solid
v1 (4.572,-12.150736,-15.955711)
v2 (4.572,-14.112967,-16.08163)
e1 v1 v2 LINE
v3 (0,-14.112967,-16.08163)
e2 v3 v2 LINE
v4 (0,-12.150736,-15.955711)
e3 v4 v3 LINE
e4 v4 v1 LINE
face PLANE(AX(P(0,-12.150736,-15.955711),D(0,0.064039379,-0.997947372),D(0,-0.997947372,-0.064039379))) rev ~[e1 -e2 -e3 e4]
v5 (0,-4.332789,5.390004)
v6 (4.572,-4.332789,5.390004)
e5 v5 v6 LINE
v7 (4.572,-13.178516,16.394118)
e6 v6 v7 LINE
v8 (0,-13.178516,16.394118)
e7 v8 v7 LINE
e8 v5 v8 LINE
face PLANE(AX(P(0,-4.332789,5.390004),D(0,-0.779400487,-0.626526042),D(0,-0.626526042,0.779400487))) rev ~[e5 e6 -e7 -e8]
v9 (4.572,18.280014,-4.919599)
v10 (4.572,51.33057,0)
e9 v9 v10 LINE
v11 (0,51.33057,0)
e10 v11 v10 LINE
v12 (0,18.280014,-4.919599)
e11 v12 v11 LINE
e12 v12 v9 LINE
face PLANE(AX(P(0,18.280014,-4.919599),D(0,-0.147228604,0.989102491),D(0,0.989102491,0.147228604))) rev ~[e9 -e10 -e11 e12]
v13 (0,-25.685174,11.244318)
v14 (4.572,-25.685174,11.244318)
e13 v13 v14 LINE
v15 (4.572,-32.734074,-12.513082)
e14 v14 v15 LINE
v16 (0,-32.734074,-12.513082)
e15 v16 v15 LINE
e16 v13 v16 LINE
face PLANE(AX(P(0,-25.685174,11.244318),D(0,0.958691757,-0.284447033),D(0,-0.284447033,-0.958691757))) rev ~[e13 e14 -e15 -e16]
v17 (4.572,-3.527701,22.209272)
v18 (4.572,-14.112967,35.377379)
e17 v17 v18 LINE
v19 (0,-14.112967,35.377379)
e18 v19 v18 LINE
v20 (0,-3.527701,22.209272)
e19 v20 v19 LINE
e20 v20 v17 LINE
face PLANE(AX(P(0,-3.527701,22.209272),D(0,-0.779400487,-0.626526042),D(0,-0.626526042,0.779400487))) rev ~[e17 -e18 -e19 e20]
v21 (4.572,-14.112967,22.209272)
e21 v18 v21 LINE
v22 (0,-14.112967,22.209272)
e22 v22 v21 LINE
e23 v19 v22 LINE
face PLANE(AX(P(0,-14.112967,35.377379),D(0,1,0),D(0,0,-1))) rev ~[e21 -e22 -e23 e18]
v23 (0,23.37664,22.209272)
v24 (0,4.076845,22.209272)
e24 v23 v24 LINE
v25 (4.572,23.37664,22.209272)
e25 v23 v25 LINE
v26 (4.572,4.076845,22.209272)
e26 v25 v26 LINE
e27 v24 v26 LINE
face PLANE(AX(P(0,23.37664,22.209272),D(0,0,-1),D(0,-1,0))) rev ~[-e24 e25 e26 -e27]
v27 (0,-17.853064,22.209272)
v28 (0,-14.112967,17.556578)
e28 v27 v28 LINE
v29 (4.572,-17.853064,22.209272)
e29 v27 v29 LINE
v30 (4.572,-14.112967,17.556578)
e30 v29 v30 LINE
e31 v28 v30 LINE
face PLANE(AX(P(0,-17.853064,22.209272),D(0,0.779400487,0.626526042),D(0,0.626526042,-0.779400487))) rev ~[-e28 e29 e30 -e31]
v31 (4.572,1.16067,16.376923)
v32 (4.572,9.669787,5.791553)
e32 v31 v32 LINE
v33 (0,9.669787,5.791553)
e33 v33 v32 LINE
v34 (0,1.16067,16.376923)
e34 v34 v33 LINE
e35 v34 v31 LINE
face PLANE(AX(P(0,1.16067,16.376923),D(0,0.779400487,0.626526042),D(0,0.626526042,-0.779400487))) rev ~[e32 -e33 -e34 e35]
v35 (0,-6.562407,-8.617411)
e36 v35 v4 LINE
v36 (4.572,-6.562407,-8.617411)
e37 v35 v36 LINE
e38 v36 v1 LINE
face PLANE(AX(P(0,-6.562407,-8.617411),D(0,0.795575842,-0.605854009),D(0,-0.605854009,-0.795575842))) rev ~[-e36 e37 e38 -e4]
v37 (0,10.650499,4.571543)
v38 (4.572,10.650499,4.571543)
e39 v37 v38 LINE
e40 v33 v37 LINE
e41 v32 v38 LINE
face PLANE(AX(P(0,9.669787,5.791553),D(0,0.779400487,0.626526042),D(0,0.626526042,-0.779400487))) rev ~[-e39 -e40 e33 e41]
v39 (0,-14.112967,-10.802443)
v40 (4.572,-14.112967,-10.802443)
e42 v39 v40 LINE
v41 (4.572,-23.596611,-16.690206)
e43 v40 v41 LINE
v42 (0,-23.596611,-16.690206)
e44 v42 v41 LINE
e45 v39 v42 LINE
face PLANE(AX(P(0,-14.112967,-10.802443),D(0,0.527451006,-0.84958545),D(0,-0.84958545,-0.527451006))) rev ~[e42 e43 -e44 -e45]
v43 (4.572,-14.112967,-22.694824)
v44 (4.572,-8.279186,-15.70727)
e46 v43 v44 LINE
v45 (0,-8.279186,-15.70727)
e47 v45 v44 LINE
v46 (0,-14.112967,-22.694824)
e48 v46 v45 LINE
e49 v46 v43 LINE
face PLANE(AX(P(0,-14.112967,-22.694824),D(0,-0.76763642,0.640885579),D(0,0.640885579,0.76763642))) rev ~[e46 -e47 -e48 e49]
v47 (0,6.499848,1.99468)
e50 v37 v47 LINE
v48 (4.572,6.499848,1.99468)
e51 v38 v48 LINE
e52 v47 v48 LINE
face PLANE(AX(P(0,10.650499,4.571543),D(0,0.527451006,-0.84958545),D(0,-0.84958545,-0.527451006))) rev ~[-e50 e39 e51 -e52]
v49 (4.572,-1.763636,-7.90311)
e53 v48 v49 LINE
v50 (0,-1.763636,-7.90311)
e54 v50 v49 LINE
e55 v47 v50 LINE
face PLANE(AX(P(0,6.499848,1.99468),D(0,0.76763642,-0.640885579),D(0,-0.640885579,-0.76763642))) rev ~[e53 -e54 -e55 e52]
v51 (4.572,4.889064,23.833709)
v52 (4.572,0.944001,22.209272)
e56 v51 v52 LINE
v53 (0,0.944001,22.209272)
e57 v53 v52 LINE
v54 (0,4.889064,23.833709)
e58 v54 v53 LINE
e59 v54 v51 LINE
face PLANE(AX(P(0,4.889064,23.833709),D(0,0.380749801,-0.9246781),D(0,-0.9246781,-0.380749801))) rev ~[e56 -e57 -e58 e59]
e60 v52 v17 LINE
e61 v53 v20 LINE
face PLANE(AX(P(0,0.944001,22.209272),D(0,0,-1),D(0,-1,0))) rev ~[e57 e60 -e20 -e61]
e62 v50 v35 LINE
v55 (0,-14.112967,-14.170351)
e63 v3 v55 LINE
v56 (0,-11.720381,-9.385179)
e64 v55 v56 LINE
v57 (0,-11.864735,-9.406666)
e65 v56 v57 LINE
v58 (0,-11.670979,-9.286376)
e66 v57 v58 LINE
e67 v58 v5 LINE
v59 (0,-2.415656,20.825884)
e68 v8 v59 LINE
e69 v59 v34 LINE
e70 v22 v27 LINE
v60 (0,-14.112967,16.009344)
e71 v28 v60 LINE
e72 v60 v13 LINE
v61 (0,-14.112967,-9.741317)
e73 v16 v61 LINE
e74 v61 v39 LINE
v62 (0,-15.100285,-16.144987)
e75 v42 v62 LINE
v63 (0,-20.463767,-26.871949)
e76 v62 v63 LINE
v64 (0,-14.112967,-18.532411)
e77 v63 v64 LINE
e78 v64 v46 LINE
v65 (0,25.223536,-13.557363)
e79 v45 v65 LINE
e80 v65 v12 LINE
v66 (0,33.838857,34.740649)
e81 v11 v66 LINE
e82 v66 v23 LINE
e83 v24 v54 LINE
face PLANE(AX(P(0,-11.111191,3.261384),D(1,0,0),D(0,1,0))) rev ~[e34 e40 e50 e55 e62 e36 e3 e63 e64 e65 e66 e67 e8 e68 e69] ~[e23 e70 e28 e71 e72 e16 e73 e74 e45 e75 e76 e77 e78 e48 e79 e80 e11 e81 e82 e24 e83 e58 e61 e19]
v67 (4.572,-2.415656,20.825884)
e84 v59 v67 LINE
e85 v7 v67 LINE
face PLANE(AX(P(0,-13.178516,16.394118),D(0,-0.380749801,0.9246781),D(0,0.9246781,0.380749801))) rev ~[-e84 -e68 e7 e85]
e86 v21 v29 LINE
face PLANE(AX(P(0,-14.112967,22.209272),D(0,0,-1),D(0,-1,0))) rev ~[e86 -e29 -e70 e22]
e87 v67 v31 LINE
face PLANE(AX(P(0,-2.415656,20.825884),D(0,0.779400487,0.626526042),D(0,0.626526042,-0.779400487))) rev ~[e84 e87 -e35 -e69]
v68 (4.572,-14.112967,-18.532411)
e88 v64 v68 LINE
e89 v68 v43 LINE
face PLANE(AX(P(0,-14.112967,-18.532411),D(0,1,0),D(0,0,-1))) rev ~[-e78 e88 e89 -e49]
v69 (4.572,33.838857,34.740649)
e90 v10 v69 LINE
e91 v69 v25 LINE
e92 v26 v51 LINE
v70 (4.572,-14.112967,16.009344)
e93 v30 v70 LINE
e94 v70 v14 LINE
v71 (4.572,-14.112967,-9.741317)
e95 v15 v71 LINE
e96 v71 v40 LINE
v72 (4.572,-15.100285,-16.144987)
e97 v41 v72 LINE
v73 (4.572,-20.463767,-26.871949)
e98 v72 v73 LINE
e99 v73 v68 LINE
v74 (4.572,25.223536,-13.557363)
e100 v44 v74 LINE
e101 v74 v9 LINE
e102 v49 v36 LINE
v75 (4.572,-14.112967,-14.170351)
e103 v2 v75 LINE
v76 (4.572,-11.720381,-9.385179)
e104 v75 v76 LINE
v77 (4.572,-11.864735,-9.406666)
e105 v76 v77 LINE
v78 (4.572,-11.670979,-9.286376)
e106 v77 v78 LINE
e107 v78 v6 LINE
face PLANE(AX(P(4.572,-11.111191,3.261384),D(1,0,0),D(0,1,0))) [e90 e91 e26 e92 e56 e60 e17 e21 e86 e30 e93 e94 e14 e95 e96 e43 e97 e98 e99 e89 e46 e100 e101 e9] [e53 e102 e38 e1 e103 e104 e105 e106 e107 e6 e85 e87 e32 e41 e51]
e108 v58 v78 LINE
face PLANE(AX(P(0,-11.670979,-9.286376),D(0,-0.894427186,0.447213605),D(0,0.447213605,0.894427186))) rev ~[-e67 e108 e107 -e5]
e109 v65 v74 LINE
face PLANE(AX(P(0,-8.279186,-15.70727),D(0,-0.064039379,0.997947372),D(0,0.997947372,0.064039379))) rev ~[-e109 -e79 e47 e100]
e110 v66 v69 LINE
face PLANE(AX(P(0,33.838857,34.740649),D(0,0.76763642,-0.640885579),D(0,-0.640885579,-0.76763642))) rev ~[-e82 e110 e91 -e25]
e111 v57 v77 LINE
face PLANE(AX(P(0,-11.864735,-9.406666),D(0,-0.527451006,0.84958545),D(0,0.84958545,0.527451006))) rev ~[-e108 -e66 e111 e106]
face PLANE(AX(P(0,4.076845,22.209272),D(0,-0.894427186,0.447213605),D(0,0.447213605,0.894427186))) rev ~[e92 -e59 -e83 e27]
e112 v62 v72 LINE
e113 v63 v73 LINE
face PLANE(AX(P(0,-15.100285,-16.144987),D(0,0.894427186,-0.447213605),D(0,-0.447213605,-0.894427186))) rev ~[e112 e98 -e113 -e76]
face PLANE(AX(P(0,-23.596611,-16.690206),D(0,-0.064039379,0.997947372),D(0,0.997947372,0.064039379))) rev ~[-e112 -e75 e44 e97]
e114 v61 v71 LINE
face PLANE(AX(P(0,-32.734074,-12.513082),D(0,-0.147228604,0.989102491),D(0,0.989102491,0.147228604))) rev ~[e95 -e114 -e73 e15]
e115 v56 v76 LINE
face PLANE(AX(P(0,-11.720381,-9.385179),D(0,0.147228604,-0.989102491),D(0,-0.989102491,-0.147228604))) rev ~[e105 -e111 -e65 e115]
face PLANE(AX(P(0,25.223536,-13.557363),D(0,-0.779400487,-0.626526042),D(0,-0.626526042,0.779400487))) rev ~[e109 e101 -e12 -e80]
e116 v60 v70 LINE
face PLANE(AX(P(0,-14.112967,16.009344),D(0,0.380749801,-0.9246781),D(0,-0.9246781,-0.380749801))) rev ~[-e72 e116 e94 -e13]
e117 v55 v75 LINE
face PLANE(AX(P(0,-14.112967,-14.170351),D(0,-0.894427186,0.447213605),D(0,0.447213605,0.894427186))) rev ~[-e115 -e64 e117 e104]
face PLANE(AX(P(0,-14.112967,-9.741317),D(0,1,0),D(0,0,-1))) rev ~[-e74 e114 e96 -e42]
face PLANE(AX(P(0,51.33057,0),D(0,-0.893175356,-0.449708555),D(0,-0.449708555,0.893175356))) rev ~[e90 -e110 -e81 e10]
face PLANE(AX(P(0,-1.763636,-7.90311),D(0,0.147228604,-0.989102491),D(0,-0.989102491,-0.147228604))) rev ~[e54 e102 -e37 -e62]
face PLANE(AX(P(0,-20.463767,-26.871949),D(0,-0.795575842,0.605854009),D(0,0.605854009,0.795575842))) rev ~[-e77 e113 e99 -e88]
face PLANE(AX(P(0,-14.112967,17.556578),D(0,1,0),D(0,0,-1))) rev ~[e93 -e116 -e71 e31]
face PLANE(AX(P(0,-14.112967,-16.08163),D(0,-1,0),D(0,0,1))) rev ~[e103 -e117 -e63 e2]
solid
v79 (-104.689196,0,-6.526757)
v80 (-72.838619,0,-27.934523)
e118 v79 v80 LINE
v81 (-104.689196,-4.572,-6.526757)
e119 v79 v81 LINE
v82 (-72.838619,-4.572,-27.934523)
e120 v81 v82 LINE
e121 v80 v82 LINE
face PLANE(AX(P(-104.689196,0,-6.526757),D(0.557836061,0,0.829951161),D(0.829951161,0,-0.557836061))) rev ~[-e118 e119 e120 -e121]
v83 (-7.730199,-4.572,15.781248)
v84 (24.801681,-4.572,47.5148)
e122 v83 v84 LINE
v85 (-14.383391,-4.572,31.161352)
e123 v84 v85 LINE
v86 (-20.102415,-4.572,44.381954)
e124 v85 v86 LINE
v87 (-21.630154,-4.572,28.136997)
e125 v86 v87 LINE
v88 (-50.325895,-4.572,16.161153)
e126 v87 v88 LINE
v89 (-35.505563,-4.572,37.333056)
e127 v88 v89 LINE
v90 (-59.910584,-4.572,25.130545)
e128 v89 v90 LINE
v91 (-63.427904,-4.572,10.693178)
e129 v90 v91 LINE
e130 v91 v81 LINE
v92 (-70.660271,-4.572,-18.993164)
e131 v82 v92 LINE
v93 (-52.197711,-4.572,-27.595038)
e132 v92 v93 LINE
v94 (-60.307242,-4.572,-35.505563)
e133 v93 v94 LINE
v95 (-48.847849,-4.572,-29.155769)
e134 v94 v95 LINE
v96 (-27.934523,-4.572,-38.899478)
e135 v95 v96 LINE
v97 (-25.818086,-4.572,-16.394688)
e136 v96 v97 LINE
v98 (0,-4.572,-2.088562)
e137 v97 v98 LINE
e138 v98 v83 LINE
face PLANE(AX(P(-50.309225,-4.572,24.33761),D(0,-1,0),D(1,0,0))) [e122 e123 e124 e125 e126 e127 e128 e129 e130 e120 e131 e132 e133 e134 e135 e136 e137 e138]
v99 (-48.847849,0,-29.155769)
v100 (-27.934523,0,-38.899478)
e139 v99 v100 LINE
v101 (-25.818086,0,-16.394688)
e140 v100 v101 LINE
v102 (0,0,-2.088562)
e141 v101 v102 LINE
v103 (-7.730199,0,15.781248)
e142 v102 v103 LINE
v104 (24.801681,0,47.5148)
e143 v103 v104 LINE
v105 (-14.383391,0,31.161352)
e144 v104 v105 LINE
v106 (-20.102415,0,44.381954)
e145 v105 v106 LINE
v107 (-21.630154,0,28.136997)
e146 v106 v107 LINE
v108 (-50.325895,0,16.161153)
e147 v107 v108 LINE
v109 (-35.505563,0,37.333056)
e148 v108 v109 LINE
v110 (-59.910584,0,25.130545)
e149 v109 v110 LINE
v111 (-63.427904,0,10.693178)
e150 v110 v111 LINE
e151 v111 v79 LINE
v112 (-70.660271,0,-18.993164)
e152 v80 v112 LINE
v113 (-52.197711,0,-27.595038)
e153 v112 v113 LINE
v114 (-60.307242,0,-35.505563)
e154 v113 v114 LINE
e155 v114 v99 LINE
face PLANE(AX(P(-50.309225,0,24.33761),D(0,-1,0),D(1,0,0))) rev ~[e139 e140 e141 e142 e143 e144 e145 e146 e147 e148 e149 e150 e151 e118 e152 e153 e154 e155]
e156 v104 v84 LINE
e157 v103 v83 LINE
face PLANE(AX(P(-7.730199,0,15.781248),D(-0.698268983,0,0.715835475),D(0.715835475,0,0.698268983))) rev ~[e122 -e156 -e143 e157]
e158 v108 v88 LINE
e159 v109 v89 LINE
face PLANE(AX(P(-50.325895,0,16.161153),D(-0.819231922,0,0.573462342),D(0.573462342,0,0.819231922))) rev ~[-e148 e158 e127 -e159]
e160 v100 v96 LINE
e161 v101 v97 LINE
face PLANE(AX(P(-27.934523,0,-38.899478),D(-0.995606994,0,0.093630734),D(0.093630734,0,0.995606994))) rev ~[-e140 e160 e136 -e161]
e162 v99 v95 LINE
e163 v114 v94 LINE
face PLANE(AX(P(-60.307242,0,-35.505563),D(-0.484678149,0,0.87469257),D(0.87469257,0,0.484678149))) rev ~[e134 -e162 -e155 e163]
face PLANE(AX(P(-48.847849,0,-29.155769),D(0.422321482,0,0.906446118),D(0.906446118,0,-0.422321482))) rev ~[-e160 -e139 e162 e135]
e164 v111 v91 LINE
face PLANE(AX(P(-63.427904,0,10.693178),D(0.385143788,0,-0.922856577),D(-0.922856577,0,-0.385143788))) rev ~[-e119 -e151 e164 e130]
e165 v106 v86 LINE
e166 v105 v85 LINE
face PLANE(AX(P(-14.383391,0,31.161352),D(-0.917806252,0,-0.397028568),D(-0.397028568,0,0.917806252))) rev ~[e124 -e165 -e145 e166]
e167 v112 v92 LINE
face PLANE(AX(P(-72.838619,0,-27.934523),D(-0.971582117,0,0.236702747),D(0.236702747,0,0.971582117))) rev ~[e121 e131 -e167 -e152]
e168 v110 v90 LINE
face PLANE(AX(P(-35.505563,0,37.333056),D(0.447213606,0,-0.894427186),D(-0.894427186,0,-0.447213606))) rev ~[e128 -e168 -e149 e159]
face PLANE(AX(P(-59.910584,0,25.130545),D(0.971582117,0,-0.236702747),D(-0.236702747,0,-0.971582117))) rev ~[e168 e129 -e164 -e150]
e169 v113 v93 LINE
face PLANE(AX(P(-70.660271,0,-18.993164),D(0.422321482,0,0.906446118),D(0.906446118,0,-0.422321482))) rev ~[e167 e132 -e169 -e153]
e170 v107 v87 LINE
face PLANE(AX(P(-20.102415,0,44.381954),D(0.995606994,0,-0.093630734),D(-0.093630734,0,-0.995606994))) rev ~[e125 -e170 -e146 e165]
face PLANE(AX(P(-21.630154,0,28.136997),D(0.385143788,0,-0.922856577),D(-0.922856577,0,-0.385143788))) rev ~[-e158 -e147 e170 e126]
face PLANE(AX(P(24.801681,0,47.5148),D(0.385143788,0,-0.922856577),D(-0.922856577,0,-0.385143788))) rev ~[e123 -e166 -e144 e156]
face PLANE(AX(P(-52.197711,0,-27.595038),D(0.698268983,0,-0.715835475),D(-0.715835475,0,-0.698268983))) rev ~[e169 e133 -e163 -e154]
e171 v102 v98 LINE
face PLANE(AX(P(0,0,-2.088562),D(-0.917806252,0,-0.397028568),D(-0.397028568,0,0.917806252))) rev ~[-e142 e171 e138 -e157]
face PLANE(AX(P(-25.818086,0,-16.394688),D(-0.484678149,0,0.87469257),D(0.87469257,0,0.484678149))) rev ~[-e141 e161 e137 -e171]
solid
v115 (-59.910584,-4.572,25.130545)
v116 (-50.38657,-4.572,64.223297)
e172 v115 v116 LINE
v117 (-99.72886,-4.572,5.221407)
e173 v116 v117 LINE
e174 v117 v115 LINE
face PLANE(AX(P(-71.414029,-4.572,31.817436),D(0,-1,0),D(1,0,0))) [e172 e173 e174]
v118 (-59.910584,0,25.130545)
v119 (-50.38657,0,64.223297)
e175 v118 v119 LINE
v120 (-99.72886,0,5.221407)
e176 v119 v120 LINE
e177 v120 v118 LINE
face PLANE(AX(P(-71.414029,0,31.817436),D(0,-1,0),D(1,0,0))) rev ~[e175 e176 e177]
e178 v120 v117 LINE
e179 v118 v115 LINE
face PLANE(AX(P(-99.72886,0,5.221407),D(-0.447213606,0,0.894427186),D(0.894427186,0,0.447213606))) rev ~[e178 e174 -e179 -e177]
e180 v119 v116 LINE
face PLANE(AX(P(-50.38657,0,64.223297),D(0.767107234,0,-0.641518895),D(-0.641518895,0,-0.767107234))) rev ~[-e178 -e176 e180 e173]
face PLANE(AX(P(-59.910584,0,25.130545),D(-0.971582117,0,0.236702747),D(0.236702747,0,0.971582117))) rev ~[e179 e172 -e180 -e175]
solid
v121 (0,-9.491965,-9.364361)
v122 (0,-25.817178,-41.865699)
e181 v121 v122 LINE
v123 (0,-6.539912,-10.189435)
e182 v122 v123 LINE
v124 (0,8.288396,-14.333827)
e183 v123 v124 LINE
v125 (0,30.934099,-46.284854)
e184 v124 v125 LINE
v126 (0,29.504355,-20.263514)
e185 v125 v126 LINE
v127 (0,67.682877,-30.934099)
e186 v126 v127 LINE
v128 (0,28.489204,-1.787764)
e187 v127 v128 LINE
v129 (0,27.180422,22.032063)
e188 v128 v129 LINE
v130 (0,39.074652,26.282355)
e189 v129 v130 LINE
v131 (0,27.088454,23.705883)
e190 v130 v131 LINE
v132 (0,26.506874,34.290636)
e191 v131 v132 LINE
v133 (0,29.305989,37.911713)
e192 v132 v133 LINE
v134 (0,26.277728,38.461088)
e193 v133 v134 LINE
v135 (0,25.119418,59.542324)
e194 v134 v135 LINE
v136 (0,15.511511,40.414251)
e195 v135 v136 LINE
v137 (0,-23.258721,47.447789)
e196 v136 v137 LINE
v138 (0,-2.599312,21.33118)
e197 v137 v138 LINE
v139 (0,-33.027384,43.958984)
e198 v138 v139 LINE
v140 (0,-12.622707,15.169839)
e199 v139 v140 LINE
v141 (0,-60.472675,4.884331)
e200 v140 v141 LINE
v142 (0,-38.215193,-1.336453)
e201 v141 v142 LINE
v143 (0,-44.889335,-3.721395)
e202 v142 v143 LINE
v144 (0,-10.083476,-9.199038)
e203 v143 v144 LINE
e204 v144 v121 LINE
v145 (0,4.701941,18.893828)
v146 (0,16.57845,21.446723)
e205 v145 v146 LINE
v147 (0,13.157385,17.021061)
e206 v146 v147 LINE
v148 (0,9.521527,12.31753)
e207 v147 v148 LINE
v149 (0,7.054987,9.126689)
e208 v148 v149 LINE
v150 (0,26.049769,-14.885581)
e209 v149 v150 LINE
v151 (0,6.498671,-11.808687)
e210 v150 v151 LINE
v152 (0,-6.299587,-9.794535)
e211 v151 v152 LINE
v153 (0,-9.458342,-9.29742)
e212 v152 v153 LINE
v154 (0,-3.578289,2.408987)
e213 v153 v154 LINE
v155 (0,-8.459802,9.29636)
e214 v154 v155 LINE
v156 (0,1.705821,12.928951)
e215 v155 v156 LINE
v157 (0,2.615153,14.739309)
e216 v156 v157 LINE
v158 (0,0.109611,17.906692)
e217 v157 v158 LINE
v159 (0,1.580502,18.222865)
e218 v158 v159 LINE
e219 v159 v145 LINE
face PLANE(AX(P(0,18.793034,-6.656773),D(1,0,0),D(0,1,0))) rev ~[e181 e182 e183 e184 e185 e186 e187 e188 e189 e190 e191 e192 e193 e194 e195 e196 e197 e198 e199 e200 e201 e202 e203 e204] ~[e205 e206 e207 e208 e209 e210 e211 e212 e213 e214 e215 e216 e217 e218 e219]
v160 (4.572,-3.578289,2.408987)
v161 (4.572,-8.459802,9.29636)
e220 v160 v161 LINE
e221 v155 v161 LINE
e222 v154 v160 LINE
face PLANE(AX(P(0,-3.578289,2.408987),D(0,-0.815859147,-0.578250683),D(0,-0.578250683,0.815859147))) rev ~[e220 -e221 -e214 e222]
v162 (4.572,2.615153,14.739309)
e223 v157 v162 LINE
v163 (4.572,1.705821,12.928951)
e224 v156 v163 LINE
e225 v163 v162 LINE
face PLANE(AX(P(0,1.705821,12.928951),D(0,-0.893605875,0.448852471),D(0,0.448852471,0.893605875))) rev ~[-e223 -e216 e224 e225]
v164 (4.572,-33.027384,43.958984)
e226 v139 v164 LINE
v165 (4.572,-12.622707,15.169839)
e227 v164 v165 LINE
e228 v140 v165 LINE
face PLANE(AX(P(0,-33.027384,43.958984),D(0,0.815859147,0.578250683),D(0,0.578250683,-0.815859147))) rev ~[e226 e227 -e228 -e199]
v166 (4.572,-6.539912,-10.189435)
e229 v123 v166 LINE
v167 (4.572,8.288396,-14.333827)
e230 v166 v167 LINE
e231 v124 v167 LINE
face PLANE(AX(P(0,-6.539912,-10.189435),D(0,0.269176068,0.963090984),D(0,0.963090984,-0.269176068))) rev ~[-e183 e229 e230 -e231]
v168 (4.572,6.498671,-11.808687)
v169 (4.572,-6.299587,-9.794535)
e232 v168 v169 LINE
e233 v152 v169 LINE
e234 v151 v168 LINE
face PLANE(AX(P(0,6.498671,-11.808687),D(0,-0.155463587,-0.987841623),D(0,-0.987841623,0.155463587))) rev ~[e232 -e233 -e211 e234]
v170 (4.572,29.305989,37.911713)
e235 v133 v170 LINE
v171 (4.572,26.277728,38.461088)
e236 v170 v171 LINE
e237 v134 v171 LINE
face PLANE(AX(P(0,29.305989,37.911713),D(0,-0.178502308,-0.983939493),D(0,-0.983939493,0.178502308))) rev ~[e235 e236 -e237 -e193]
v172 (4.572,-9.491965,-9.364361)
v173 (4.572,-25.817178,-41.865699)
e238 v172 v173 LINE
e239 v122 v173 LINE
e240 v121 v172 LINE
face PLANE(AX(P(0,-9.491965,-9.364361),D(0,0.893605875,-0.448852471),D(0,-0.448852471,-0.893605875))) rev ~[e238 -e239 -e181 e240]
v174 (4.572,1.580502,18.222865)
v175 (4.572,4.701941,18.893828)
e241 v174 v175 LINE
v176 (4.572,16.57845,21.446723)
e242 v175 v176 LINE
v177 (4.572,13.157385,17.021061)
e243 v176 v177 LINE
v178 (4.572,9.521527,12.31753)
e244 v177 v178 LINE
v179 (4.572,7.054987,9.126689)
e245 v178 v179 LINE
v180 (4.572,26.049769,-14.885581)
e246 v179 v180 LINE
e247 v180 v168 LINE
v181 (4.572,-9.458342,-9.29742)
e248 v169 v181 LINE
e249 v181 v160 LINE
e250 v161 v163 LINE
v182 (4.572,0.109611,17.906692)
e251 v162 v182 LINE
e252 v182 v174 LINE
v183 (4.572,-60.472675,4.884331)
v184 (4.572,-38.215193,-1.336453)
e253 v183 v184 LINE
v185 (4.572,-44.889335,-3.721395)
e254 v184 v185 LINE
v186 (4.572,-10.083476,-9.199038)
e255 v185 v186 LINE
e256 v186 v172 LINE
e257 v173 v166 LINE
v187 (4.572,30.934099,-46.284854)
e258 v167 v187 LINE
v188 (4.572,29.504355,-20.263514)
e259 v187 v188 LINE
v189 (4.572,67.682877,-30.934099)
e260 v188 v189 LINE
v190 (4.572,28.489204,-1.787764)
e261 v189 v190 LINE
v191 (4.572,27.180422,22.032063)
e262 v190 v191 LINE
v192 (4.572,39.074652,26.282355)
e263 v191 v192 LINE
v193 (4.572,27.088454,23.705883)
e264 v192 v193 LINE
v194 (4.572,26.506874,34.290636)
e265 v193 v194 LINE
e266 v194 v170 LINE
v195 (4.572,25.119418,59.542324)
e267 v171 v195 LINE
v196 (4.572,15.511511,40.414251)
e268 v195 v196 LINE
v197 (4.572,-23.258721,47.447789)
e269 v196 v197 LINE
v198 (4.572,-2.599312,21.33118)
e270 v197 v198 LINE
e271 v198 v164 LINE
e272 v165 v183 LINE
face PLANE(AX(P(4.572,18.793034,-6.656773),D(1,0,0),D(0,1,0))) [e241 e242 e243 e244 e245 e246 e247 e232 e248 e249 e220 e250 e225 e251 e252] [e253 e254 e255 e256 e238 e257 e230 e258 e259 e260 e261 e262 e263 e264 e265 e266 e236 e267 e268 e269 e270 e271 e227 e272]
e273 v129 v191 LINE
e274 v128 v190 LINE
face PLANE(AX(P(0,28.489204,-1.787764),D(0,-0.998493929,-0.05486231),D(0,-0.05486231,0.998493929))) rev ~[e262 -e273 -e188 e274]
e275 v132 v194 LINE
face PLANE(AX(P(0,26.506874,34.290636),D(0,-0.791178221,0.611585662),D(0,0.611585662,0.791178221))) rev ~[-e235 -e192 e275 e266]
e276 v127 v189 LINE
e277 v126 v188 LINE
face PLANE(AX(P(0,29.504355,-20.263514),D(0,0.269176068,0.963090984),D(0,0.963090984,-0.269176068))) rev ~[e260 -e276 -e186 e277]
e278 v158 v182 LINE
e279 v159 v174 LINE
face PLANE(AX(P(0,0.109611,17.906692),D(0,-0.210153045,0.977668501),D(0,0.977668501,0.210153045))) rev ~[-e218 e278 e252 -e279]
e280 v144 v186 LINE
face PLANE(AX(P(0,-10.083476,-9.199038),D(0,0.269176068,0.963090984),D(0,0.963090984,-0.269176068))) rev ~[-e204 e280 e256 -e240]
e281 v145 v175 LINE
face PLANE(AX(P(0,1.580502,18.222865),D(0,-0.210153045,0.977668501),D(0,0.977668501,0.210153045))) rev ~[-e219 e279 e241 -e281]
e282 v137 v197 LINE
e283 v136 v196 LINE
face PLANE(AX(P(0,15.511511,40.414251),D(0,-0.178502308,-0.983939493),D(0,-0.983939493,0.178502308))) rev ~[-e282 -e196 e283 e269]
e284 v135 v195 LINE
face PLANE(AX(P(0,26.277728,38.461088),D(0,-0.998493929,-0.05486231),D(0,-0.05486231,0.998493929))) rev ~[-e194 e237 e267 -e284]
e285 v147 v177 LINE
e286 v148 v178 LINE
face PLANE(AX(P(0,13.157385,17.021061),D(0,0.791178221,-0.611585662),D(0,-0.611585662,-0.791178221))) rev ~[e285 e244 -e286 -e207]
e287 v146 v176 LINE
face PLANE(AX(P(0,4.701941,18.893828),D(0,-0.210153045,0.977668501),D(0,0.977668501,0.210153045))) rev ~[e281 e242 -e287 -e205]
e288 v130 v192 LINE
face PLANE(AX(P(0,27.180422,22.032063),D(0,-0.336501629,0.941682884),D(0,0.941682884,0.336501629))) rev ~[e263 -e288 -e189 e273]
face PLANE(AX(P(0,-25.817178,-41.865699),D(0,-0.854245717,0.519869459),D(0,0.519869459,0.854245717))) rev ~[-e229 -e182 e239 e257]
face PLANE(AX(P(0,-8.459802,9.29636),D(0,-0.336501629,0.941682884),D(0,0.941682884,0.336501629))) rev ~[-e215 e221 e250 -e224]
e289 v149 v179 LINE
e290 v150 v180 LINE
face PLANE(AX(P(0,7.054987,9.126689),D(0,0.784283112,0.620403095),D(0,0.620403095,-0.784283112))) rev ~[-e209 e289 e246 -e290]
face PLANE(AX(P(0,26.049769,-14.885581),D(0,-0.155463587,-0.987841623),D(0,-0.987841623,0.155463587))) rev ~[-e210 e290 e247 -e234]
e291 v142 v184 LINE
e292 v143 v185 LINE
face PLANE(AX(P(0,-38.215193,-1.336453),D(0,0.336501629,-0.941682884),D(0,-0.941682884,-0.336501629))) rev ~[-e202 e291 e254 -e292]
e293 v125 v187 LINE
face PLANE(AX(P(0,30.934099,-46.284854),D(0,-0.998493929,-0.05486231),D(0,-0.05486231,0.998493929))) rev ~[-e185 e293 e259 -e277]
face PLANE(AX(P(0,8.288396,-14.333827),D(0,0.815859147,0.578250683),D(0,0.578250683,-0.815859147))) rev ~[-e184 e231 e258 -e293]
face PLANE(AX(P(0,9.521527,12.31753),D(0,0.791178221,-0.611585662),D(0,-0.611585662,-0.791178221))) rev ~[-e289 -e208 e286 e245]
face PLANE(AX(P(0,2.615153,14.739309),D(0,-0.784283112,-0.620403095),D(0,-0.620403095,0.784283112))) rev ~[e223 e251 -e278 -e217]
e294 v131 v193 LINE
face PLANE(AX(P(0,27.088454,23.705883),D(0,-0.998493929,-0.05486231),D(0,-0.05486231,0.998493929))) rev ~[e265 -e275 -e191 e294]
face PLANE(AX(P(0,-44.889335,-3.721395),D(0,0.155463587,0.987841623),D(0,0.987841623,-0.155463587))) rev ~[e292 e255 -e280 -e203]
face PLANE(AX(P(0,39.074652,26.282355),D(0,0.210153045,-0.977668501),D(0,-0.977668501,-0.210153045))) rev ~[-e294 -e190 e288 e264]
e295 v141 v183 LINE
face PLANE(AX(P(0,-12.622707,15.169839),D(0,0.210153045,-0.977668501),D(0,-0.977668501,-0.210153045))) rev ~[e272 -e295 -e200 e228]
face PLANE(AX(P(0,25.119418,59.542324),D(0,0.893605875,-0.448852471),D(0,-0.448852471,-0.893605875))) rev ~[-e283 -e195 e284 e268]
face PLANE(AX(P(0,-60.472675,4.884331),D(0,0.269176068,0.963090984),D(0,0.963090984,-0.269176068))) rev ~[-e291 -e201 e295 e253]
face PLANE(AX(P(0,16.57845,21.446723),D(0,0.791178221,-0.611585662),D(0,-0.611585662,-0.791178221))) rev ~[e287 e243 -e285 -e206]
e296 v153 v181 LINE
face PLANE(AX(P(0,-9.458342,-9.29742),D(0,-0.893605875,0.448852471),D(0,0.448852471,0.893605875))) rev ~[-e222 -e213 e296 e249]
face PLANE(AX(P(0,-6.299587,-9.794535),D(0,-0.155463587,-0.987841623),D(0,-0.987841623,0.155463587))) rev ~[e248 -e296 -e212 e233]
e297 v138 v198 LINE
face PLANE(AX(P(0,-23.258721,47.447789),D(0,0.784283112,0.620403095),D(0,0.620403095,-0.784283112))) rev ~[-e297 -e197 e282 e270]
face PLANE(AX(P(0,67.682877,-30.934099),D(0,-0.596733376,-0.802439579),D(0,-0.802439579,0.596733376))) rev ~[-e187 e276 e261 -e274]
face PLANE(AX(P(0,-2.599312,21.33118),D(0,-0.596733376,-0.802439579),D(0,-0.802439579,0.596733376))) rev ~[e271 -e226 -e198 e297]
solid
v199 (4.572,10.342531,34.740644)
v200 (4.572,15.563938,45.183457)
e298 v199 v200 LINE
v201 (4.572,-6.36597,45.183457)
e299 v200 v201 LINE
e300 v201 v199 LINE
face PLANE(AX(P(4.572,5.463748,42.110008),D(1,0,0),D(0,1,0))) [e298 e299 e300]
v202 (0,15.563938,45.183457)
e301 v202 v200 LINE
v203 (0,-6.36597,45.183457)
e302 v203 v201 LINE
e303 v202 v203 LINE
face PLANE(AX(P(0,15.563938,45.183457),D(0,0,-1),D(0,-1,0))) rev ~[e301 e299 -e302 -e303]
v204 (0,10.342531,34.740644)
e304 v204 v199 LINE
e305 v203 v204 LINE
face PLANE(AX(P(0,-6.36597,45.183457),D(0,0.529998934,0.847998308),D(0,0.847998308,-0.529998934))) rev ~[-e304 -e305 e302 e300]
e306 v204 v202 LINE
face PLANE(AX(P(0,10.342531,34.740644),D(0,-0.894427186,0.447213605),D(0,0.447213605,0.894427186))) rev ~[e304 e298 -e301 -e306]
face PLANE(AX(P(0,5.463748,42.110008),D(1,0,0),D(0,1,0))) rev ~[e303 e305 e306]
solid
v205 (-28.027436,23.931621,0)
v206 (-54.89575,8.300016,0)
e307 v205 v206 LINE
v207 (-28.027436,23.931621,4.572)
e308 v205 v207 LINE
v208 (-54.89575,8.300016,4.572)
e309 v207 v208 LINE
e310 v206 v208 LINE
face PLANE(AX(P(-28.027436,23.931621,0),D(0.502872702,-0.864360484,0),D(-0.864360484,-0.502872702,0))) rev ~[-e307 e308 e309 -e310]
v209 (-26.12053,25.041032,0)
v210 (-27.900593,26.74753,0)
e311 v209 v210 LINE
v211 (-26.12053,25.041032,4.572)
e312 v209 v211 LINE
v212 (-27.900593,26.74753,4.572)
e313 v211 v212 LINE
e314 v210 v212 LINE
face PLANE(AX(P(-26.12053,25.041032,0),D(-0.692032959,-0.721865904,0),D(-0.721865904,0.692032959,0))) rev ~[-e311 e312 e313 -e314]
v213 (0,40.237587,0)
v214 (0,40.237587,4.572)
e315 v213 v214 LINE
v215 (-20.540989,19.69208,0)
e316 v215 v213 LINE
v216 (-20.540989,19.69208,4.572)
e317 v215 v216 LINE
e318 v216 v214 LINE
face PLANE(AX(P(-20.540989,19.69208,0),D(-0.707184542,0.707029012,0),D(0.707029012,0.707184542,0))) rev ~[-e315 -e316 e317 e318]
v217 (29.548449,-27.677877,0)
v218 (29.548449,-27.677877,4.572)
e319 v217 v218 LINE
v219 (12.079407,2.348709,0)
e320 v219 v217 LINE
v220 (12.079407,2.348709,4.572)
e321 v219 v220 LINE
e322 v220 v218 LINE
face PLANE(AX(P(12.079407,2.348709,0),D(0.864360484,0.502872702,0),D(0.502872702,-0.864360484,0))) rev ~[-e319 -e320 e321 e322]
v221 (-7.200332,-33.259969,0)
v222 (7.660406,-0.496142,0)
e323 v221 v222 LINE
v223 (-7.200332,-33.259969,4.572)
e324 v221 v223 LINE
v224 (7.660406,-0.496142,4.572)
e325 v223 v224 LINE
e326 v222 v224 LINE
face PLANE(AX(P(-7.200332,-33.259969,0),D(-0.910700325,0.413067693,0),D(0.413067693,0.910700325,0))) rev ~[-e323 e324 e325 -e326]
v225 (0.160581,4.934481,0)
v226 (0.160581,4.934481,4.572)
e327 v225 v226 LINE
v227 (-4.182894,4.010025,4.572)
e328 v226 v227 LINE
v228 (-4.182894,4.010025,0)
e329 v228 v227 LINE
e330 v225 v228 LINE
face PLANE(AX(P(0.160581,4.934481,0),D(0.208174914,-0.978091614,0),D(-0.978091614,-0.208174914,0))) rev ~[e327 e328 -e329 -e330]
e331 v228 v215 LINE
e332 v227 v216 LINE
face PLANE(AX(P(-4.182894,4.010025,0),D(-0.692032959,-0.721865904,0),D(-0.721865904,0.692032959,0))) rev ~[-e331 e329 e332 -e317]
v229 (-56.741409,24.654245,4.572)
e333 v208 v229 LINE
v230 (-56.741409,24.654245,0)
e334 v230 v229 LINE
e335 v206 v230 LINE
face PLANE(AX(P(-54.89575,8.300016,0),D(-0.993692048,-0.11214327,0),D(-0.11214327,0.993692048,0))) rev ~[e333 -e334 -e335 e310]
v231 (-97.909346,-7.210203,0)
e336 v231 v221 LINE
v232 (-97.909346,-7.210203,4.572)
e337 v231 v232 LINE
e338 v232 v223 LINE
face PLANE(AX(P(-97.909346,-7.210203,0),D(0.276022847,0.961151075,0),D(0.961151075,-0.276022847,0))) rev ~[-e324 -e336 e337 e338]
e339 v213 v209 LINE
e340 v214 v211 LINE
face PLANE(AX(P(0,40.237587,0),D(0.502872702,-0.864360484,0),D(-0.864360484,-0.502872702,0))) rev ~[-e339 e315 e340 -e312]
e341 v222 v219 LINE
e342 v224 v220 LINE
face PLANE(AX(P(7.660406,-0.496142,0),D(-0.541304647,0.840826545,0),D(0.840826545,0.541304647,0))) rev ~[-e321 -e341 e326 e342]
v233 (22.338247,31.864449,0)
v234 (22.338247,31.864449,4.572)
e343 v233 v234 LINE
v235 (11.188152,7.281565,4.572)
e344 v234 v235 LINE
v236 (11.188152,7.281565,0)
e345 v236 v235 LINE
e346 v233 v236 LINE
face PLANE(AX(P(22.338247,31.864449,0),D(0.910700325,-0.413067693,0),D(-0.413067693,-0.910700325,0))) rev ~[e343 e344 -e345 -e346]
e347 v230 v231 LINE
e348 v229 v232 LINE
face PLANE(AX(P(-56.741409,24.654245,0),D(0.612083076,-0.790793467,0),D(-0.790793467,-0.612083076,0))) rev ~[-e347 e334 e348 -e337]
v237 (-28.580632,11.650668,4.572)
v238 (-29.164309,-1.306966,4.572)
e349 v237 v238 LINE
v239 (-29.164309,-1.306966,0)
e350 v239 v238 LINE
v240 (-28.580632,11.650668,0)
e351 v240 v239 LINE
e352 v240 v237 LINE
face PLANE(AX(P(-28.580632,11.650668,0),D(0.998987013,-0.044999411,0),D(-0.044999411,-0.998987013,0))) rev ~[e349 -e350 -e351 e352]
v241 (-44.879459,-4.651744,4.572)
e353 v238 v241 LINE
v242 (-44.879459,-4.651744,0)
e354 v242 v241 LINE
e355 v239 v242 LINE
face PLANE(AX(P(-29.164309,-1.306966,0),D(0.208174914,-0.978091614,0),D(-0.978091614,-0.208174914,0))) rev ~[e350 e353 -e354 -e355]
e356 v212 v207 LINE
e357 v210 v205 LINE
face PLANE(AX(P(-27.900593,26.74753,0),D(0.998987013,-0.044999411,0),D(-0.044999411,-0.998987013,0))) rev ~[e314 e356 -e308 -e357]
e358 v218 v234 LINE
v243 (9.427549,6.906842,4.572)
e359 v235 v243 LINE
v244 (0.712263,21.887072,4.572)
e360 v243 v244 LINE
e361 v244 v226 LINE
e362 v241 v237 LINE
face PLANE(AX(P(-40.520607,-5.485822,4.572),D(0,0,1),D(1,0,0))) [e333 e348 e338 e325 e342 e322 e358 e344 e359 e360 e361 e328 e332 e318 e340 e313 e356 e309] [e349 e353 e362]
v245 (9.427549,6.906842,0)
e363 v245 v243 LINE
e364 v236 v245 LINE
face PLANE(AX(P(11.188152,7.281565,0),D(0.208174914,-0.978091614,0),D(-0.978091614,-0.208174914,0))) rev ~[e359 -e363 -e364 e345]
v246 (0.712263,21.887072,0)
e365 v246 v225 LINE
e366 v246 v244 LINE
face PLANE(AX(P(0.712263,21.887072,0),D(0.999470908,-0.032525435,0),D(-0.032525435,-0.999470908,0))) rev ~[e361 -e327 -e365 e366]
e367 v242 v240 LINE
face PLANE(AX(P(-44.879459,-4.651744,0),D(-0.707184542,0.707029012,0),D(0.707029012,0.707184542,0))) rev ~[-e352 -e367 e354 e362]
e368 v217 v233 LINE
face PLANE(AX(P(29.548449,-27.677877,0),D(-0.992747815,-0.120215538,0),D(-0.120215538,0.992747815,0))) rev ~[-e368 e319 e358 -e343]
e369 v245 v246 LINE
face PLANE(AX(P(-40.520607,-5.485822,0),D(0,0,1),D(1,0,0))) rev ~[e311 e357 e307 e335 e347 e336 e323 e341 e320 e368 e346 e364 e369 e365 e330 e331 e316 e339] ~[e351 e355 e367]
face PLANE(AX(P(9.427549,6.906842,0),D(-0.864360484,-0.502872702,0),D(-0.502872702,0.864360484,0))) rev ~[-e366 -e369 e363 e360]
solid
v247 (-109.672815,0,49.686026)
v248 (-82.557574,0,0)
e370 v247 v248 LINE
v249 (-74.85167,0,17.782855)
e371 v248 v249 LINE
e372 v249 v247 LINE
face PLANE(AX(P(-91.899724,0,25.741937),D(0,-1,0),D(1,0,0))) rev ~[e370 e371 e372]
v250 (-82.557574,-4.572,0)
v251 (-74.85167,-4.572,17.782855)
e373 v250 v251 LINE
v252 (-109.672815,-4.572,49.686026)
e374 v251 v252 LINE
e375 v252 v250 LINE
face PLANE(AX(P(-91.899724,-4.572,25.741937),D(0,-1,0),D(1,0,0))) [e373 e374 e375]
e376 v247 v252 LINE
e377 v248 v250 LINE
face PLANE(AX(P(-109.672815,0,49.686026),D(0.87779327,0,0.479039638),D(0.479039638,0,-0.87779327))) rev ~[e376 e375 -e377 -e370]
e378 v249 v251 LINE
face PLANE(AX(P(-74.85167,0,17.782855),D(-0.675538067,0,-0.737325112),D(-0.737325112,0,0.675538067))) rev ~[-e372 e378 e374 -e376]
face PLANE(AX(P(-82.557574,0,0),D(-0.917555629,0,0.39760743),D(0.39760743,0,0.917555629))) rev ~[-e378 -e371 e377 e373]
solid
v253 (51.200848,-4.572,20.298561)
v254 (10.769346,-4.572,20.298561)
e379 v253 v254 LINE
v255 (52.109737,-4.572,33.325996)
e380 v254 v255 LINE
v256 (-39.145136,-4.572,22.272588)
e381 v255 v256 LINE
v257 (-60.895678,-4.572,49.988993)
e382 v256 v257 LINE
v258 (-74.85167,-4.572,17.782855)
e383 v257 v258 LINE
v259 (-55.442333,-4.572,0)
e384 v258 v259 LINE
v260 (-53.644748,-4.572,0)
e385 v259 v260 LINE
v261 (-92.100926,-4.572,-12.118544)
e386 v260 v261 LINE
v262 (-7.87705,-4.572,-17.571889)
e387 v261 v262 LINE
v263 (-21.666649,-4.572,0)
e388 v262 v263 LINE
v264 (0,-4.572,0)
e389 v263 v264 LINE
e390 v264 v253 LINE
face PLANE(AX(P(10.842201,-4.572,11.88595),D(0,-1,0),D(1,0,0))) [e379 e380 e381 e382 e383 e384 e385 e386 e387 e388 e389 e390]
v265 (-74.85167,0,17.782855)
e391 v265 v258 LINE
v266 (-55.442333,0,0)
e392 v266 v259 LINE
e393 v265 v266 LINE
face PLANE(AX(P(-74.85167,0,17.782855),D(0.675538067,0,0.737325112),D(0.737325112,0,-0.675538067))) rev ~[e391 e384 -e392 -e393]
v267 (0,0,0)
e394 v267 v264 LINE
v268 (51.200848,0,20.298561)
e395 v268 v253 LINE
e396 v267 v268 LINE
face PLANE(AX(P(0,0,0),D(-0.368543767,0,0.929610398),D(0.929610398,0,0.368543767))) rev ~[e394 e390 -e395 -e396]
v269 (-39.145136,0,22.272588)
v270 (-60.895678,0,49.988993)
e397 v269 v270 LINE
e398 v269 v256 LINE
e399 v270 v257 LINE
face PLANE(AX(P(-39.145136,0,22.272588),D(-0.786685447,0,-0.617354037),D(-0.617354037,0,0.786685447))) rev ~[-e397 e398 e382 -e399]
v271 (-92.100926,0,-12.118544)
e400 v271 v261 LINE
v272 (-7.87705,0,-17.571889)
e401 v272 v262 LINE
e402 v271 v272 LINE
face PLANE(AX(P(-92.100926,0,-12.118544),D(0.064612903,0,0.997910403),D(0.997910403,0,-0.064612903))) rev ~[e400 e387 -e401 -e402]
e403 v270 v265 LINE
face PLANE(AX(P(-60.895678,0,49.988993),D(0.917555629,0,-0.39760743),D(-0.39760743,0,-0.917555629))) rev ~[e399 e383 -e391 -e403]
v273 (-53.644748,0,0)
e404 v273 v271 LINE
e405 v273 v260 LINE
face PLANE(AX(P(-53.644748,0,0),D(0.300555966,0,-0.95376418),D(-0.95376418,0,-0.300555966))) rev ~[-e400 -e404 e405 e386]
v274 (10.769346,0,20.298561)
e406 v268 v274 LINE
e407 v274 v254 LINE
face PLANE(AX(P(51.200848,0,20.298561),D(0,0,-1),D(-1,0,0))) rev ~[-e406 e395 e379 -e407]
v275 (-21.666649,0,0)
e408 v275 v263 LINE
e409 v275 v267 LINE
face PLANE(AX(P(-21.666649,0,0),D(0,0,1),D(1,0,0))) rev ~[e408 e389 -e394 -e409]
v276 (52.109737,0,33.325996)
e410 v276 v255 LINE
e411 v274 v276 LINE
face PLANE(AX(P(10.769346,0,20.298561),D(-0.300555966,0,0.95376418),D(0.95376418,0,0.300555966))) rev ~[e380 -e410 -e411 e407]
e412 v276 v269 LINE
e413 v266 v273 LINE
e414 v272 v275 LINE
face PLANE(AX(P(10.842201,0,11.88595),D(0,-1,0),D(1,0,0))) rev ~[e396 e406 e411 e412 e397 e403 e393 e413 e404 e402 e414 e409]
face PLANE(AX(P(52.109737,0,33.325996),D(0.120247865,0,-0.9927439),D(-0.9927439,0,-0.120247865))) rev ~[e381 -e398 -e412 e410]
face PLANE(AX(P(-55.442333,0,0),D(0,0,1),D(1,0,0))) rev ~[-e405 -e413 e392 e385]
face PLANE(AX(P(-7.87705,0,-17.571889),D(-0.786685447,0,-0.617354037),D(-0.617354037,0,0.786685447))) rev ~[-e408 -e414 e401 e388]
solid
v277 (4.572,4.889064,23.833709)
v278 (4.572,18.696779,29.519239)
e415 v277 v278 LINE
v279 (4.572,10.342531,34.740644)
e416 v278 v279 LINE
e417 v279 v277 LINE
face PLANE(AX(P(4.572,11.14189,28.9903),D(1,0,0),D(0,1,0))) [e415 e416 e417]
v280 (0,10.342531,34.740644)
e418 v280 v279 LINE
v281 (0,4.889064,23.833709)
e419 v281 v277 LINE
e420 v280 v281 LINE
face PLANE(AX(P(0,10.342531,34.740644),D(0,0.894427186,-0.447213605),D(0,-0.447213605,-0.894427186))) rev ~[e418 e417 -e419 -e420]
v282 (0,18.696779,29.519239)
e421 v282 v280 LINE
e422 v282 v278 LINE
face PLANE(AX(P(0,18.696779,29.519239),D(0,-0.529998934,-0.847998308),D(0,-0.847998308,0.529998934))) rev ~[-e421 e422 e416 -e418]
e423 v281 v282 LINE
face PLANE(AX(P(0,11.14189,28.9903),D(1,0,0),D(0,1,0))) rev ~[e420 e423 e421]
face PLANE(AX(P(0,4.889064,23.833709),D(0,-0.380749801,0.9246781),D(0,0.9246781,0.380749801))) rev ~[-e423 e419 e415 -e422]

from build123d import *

# Parameters (mm, degrees)
F3_DEPTH = 4.572
F4_DEPTH = 4.572
F5_DEPTH = 4.572
F7_DEPTH = 4.572
F9_DEPTH = 4.572


with BuildPart() as f3:
    # F0 (on Front) → F3 (new body)
    with BuildSketch(Plane.XZ):
        Polygon((-82.5575739145, 0), (-74.8516700621, 17.7828554518), (-109.6728146076, 49.6860258281), align=None)
    extrude(amount=F3_DEPTH)


with BuildPart() as f3b:
    # F0 (on Front) → F3, piece 2 (new body)
    with BuildSketch(Plane.XZ):
        Polygon((-21.6666485413, 0), (0, 0), (51.2008480728, 20.2985610813), (10.7693464256, 20.2985610813), (-28.0068135198, 8.0791818403), align=None)
        Polygon((-7.8770499676, -17.571888864), (-21.6666485413, 0), (-53.6447482374, 0), (-92.1009257436, -12.1185444295), align=None)
        Polygon((-53.6447482374, 0), (-21.6666485413, 0), (-28.0068135198, 8.0791818403), align=None)
        Polygon((-55.4423332214, 0), (-53.6447482374, 0), (-28.0068135198, 8.0791818403), (-37.5960122597, 20.2985610813), (-55.4423332214, 20.2985610813), (-39.1451364363, 22.2725879337), (-60.8956776559, 49.9889925122), (-74.8516700621, 17.7828554518), align=None)
        Polygon((-37.5960122597, 20.2985610813), (-28.0068135198, 8.0791818403), (10.7693464256, 20.2985610813), align=None)
        Polygon((-37.5960122597, 20.2985610813), (10.7693464256, 20.2985610813), (52.1097369492, 33.3259962499), (-39.1451364363, 22.2725879337), align=None)
        Polygon((-55.4423332214, 20.2985610813), (-37.5960122597, 20.2985610813), (-39.1451364363, 22.2725879337), align=None)
    extrude(amount=F3_DEPTH)


with BuildPart() as f4:
    # F1 (on Top) → F4 (new body)
    with BuildSketch(Plane.XY):
        Polygon((-30.2264653146, -24.8868316412), (-29.1643092862, -1.3069657687), (-44.8794588447, -4.6517443843), (-28.5806321541, 11.6506676864), (-28.0274361012, 23.9316211227), (-54.8957499852, 8.300016208), (-56.7414090037, 24.6542450041), (-97.9093462229, -7.2102034464), (-7.2003318928, -33.2599692047), (7.6604056604, -0.4961419795), align=None)
        Polygon((-83.9541107416, -8.6057269946), (-54.8957499852, 8.300016208), (-52.8296263813, -10.0077306732), align=None, mode=Mode.SUBTRACT)
        Polygon((0.1605810986, 4.9344807985), (0, 0), (-4.1828936972, 4.0100249694), (-29.1643092862, -1.3069657687), (-30.2264653146, -24.8868316412), (7.6604056604, -0.4961419795), (10.3213577254, 5.370523346), (9.427549079, 6.9068423225), align=None)
        Polygon((22.3382469267, 31.8644493818), (11.1881518136, 7.28156522), (23.9663552493, 10.0012505427), (12.0794068127, 2.3487085702), (29.5484494418, -27.6778768748), align=None)
        Polygon((-29.1643092862, -1.3069657687), (-4.1828936972, 4.0100249694), (-20.5409885059, 19.6920798778), (-28.5806321541, 11.6506676864), align=None)
        Polygon((-52.8296263813, -10.0077306732), (-54.8957499852, 8.300016208), (-83.9541107416, -8.6057269946), align=None)
        Polygon((-26.1205296729, 25.0410323059), (-20.5409885059, 19.6920798778), (0, 40.2375869453), align=None)
        Polygon((0.7122633979, 21.887071963), (0.1605810986, 4.9344807985), (9.427549079, 6.9068423225), align=None)
        Polygon((-28.5806321541, 11.6506676864), (-20.5409885059, 19.6920798778), (-26.1205296729, 25.0410323059), (-28.0274361012, 23.9316211227), align=None)
        Polygon((23.9663552493, 10.0012505427), (11.1881518136, 7.28156522), (10.3213577254, 5.370523346), (12.0794068127, 2.3487085702), align=None)
        Polygon((-4.1828936972, 4.0100249694), (0, 0), (0.1605810986, 4.9344807985), align=None)
        Polygon((12.0794068127, 2.3487085702), (10.3213577254, 5.370523346), (7.6604056604, -0.4961419795), align=None)
        Polygon((-28.0274361012, 23.9316211227), (-26.1205296729, 25.0410323059), (-27.9005933553, 26.7475303262), align=None)
        Polygon((11.1881518136, 7.28156522), (9.427549079, 6.9068423225), (10.3213577254, 5.370523346), align=None)
    extrude(amount=F4_DEPTH)


with BuildPart() as f5:
    # F2 (on Right) → F5 (new body)
    with BuildSketch(Plane.YZ):
        Polygon((-11.6709794468, -9.2863757221), (-4.3327892504, 5.3900042912), (-13.1785160436, 16.3941179508), (-14.112967217, 16.0093439428), (-14.112967217, -9.7413167059), (-11.8647352483, -9.4066657912), align=None)
        Polygon((-14.112967217, 16.0093439428), (-13.1785160436, 16.3941179508), (-14.112967217, 17.55657833), align=None)
        Polygon((-14.112967217, 17.55657833), (-13.1785160436, 16.3941179508), (-2.4156556784, 20.8258839304), (-3.5277008119, 22.2092717886), (-14.112967217, 22.2092717886), align=None)
        Polygon((4.0768447157, 22.2092717886), (1.1606701048, 16.3769227176), (9.6697870104, 5.7915528817), (23.3766396491, 22.2092717886), align=None)
        Polygon((-2.4156556784, 20.8258839304), (1.1606701048, 16.3769227176), (4.0768447157, 22.2092717886), (0.944000589, 22.2092717886), align=None)
        Polygon((10.6504993847, 4.5715434143), (6.4998476512, 1.9946802718), (-1.7636361041, -7.903110057), (18.2800142598, -4.9195985592), align=None)
        Polygon((-1.7636361041, -7.903110057), (-6.5624073064, -8.6174105361), (-12.1507356053, -15.9557113932), (-8.2791860566, -15.7072698058), align=None)
        Polygon((-17.8530644625, 22.2092717886), (-14.112967217, 17.55657833), (-14.112967217, 22.2092717886), align=None)
        Polygon((-14.112967217, -9.7413167059), (-14.112967217, 16.0093439428), (-25.6851743907, 11.2443175167), (-32.7340736985, -12.5130815431), align=None)
        Polygon((-3.5277008119, 22.2092717886), (-2.4156556784, 20.8258839304), (0.944000589, 22.2092717886), align=None)
        Polygon((23.3766396491, 22.2092717886), (9.6697870104, 5.7915528817), (10.6504993847, 4.5715434143), (39.0602611005, 22.2092717886), align=None)
        Polygon((0.944000589, 22.2092717886), (4.0768447157, 22.2092717886), (4.8890635775, 23.8337094703), align=None)
        Polygon((-11.720380856, -9.385178538), (-11.8647352483, -9.4066657912), (-14.112967217, -10.802443242), (-14.112967217, -14.1703511364), align=None)
        Polygon((-14.112967217, -10.802443242), (-11.8647352483, -9.4066657912), (-14.112967217, -9.7413167059), align=None)
        Polygon((39.0602611005, 22.2092717886), (10.6504993847, 4.5715434143), (18.2800142598, -4.9195985592), (51.3305701315, 0), (33.8388569653, 34.7406491637), (23.3766396491, 22.2092717886), align=None)
        Polygon((18.2800142598, -4.9195985592), (-1.7636361041, -7.903110057), (-8.2791860566, -15.7072698058), (25.2235364169, -13.5573633015), align=None)
        Polygon((-14.112967217, -18.5324114632), (-12.1507356053, -15.9557113932), (-14.112967217, -16.0816299513), align=None)
        Polygon((-8.2791860566, -15.7072698058), (-12.1507356053, -15.9557113932), (-14.112967217, -18.5324114632), (-14.112967217, -22.6948242635), align=None)
        Polygon((-14.112967217, 35.3773785324), (-14.112967217, 22.2092717886), (-3.5277008119, 22.2092717886), align=None)
        Polygon((-14.112967217, -14.1703511364), (-14.112967217, -10.802443242), (-23.5966108739, -16.6902057827), (-15.1002852928, -16.1449872368), align=None)
        Polygon((-14.112967217, -16.0816299513), (-14.112967217, -14.1703511364), (-15.1002852928, -16.1449872368), align=None)
        Polygon((-14.112967217, -18.5324114632), (-14.112967217, -16.0816299513), (-15.1002852928, -16.1449872368), (-20.4637665302, -26.8719494343), align=None)
    extrude(amount=F5_DEPTH)


with BuildPart() as f5b:
    # F2 (on Right) → F5, piece 2 (new body)
    with BuildSketch(Plane.YZ):
        Polygon((-6.3659697771, 45.1834574342), (10.3425312173, 34.7406444679), (15.5639378354, 45.1834574342), align=None)
    extrude(amount=F5_DEPTH)


with BuildPart() as f5c:
    # F2 (on Right) → F5, piece 3 (new body)
    with BuildSketch(Plane.YZ):
        Polygon((10.3425312173, 34.7406444679), (4.8890635775, 23.8337094703), (18.6967793852, 29.5192394406), align=None)
    extrude(amount=F5_DEPTH)


with BuildPart() as f7:
    # F6 (on Front) → F7 (new body)
    with BuildSketch(Plane.XZ):
        Polygon((-99.728859961, 5.2214069292), (-59.9105844404, 25.1305452669), (-50.386570394, 64.2232969403), align=None)
    extrude(amount=F7_DEPTH)


with BuildPart() as f7b:
    # F6 (on Front) → F7, piece 2 (new body)
    with BuildSketch(Plane.XZ):
        Polygon((-50.3258952086, 16.1611531024), (-35.5055630207, 37.3330563307), (-59.9105844404, 25.1305452669), (-63.4279038249, 10.6931775161), align=None)
        Polygon((-21.6301538046, 28.1369972667), (-50.3258952086, 16.1611531024), (-68.3788705082, -9.6288117365), (-70.6602708853, -18.9931635715), (-52.1977105079, -27.5950381993), (-24.3134150211, -0.3950190076), align=None)
        Polygon((-68.3788705082, -9.6288117365), (-50.3258952086, 16.1611531024), (-63.4279038249, 10.6931775161), align=None)
        Polygon((-70.6602708853, -18.9931635715), (-68.3788705082, -9.6288117365), (-73.8829001784, -17.4917113036), align=None)
        Polygon((-73.8829001784, -17.4917113036), (-68.3788705082, -9.6288117365), (-63.4279038249, 10.6931775161), (-104.6891957521, -6.5267574973), (-72.8386193514, -27.9345232993), (-70.6602708853, -18.9931635715), align=None)
        Polygon((-14.3833906449, 31.1613521727), (-21.6301538046, 28.1369972667), (-24.3134150211, -0.3950190076), (-7.7301989516, 15.7812475065), align=None)
        Polygon((-20.1024152339, 44.3819537759), (-21.6301538046, 28.1369972667), (-14.3833906449, 31.1613521727), align=None)
        Polygon((-7.7301989516, 15.7812475065), (-24.3134150211, -0.3950190076), (-25.818085807, -16.3946880244), (0, -2.0885621198), align=None)
        Polygon((-25.818085807, -16.3946880244), (-24.3134150211, -0.3950190076), (-52.1977105079, -27.5950381993), (-48.8478487995, -29.1557692055), align=None)
        Polygon((24.8016808182, 47.5147999823), (-14.3833906449, 31.1613521727), (-7.7301989516, 15.7812475065), align=None)
        Polygon((-48.8478487995, -29.1557692055), (-52.1977105079, -27.5950381993), (-60.3072419763, -35.5055630207), align=None)
        Polygon((-27.9345232993, -38.8994775712), (-25.818085807, -16.3946880244), (-48.8478487995, -29.1557692055), align=None)
    extrude(amount=F7_DEPTH)


with BuildPart() as f9:
    # F8 (on Right) → F9 (new body)
    with BuildSketch(Plane.YZ):
        Polygon((9.5215268071, 12.3175298318), (7.054986864, 9.1266887045), (26.0497685522, -14.8855810985), (6.4986714811, -11.8086873813), (8.2883964257, -14.3338265797), (29.5043549522, -20.2635137998), (28.4892037347, -1.7877637871), align=None)
        Polygon((13.1573853495, 17.0210607851), (9.5215268071, 12.3175298318), (28.4892037347, -1.7877637871), (27.1804219123, 22.0320626132), align=None)
        Polygon((16.5784495208, 21.4467228498), (13.1573853495, 17.0210607851), (27.1804219123, 22.0320626132), (27.0884537669, 23.7058826658), align=None)
        Polygon((67.682877183, -30.934099108), (28.4892037347, -1.7877637871), (29.5043549522, -20.2635137998), align=None)
        Polygon((1.7058211505, 12.9289507148), (2.6151525232, 14.7393091506), (0.1096106938, 17.906692035), (-12.6227065571, 15.1698387641), (-8.4598024861, 9.2963595568), align=None)
        Polygon((8.2883964257, -14.3338265797), (6.4986714811, -11.8086873813), (-6.2995872124, -9.7945353558), (-6.5399120622, -10.1894354024), align=None)
        Polygon((4.7019407708, 18.8938284175), (16.5784495208, 21.4467228498), (26.5068738488, 34.2906359448), (26.2777281101, 38.4610879048), (15.5115105085, 40.4142513898), align=None)
        Polygon((26.5068738488, 34.2906359448), (16.5784495208, 21.4467228498), (27.0884537669, 23.7058826658), align=None)
        Polygon((27.0884537669, 23.7058826658), (27.1804219123, 22.0320626132), (39.074651897, 26.2823551893), align=None)
        Polygon((30.934099108, -46.2848544121), (29.5043549522, -20.2635137998), (8.2883964257, -14.3338265797), align=None)
        Polygon((-12.6227065571, 15.1698387641), (0.1096106938, 17.906692035), (-2.5993124675, 21.331179607), (-33.0273844302, 43.9589843154), align=None)
        Polygon((-2.5993124675, 21.331179607), (0.1096106938, 17.906692035), (1.5805018972, 18.222864914), align=None)
        Polygon((-3.5782886569, 2.4089873075), (-8.4598024861, 9.2963595568), (-38.2151932543, -1.3364528778), (-10.0834764605, -9.1990380795), (-9.4583415658, -9.2974199567), align=None)
        Polygon((-38.2151932543, -1.3364528778), (-8.4598024861, 9.2963595568), (-12.6227065571, 15.1698387641), (-60.4726746678, 4.8843314871), align=None)
        Polygon((-6.5399120622, -10.1894354024), (-6.2995872124, -9.7945353558), (-9.4583415658, -9.2974199567), (-9.4919654137, -9.3643605885), align=None)
        Polygon((26.2777281101, 38.4610879048), (26.5068738488, 34.2906359448), (29.3059889227, 37.9117131233), align=None)
        Polygon((1.5805018972, 18.222864914), (4.7019407708, 18.8938284175), (15.5115105085, 40.4142513898), (-23.2587214559, 47.4477894604), (-2.5993124675, 21.331179607), align=None)
        Polygon((-10.0834764605, -9.1990380795), (-38.2151932543, -1.3364528778), (-44.8893345892, -3.7213952746), align=None)
        Polygon((-9.4919654137, -9.3643605885), (-9.4583415658, -9.2974199567), (-10.0834764605, -9.1990380795), align=None)
        Polygon((-25.8171781898, -41.8656989932), (-6.5399120622, -10.1894354024), (-9.4919654137, -9.3643605885), align=None)
        Polygon((15.5115105085, 40.4142513898), (26.2777281101, 38.4610879048), (25.1194182783, 59.542324394), align=None)
    extrude(amount=F9_DEPTH)


solid = Compound([f3.part, f3b.part, f4.part, f5.part, f5b.part, f5c.part, f7.part, f7b.part, f9.part])
